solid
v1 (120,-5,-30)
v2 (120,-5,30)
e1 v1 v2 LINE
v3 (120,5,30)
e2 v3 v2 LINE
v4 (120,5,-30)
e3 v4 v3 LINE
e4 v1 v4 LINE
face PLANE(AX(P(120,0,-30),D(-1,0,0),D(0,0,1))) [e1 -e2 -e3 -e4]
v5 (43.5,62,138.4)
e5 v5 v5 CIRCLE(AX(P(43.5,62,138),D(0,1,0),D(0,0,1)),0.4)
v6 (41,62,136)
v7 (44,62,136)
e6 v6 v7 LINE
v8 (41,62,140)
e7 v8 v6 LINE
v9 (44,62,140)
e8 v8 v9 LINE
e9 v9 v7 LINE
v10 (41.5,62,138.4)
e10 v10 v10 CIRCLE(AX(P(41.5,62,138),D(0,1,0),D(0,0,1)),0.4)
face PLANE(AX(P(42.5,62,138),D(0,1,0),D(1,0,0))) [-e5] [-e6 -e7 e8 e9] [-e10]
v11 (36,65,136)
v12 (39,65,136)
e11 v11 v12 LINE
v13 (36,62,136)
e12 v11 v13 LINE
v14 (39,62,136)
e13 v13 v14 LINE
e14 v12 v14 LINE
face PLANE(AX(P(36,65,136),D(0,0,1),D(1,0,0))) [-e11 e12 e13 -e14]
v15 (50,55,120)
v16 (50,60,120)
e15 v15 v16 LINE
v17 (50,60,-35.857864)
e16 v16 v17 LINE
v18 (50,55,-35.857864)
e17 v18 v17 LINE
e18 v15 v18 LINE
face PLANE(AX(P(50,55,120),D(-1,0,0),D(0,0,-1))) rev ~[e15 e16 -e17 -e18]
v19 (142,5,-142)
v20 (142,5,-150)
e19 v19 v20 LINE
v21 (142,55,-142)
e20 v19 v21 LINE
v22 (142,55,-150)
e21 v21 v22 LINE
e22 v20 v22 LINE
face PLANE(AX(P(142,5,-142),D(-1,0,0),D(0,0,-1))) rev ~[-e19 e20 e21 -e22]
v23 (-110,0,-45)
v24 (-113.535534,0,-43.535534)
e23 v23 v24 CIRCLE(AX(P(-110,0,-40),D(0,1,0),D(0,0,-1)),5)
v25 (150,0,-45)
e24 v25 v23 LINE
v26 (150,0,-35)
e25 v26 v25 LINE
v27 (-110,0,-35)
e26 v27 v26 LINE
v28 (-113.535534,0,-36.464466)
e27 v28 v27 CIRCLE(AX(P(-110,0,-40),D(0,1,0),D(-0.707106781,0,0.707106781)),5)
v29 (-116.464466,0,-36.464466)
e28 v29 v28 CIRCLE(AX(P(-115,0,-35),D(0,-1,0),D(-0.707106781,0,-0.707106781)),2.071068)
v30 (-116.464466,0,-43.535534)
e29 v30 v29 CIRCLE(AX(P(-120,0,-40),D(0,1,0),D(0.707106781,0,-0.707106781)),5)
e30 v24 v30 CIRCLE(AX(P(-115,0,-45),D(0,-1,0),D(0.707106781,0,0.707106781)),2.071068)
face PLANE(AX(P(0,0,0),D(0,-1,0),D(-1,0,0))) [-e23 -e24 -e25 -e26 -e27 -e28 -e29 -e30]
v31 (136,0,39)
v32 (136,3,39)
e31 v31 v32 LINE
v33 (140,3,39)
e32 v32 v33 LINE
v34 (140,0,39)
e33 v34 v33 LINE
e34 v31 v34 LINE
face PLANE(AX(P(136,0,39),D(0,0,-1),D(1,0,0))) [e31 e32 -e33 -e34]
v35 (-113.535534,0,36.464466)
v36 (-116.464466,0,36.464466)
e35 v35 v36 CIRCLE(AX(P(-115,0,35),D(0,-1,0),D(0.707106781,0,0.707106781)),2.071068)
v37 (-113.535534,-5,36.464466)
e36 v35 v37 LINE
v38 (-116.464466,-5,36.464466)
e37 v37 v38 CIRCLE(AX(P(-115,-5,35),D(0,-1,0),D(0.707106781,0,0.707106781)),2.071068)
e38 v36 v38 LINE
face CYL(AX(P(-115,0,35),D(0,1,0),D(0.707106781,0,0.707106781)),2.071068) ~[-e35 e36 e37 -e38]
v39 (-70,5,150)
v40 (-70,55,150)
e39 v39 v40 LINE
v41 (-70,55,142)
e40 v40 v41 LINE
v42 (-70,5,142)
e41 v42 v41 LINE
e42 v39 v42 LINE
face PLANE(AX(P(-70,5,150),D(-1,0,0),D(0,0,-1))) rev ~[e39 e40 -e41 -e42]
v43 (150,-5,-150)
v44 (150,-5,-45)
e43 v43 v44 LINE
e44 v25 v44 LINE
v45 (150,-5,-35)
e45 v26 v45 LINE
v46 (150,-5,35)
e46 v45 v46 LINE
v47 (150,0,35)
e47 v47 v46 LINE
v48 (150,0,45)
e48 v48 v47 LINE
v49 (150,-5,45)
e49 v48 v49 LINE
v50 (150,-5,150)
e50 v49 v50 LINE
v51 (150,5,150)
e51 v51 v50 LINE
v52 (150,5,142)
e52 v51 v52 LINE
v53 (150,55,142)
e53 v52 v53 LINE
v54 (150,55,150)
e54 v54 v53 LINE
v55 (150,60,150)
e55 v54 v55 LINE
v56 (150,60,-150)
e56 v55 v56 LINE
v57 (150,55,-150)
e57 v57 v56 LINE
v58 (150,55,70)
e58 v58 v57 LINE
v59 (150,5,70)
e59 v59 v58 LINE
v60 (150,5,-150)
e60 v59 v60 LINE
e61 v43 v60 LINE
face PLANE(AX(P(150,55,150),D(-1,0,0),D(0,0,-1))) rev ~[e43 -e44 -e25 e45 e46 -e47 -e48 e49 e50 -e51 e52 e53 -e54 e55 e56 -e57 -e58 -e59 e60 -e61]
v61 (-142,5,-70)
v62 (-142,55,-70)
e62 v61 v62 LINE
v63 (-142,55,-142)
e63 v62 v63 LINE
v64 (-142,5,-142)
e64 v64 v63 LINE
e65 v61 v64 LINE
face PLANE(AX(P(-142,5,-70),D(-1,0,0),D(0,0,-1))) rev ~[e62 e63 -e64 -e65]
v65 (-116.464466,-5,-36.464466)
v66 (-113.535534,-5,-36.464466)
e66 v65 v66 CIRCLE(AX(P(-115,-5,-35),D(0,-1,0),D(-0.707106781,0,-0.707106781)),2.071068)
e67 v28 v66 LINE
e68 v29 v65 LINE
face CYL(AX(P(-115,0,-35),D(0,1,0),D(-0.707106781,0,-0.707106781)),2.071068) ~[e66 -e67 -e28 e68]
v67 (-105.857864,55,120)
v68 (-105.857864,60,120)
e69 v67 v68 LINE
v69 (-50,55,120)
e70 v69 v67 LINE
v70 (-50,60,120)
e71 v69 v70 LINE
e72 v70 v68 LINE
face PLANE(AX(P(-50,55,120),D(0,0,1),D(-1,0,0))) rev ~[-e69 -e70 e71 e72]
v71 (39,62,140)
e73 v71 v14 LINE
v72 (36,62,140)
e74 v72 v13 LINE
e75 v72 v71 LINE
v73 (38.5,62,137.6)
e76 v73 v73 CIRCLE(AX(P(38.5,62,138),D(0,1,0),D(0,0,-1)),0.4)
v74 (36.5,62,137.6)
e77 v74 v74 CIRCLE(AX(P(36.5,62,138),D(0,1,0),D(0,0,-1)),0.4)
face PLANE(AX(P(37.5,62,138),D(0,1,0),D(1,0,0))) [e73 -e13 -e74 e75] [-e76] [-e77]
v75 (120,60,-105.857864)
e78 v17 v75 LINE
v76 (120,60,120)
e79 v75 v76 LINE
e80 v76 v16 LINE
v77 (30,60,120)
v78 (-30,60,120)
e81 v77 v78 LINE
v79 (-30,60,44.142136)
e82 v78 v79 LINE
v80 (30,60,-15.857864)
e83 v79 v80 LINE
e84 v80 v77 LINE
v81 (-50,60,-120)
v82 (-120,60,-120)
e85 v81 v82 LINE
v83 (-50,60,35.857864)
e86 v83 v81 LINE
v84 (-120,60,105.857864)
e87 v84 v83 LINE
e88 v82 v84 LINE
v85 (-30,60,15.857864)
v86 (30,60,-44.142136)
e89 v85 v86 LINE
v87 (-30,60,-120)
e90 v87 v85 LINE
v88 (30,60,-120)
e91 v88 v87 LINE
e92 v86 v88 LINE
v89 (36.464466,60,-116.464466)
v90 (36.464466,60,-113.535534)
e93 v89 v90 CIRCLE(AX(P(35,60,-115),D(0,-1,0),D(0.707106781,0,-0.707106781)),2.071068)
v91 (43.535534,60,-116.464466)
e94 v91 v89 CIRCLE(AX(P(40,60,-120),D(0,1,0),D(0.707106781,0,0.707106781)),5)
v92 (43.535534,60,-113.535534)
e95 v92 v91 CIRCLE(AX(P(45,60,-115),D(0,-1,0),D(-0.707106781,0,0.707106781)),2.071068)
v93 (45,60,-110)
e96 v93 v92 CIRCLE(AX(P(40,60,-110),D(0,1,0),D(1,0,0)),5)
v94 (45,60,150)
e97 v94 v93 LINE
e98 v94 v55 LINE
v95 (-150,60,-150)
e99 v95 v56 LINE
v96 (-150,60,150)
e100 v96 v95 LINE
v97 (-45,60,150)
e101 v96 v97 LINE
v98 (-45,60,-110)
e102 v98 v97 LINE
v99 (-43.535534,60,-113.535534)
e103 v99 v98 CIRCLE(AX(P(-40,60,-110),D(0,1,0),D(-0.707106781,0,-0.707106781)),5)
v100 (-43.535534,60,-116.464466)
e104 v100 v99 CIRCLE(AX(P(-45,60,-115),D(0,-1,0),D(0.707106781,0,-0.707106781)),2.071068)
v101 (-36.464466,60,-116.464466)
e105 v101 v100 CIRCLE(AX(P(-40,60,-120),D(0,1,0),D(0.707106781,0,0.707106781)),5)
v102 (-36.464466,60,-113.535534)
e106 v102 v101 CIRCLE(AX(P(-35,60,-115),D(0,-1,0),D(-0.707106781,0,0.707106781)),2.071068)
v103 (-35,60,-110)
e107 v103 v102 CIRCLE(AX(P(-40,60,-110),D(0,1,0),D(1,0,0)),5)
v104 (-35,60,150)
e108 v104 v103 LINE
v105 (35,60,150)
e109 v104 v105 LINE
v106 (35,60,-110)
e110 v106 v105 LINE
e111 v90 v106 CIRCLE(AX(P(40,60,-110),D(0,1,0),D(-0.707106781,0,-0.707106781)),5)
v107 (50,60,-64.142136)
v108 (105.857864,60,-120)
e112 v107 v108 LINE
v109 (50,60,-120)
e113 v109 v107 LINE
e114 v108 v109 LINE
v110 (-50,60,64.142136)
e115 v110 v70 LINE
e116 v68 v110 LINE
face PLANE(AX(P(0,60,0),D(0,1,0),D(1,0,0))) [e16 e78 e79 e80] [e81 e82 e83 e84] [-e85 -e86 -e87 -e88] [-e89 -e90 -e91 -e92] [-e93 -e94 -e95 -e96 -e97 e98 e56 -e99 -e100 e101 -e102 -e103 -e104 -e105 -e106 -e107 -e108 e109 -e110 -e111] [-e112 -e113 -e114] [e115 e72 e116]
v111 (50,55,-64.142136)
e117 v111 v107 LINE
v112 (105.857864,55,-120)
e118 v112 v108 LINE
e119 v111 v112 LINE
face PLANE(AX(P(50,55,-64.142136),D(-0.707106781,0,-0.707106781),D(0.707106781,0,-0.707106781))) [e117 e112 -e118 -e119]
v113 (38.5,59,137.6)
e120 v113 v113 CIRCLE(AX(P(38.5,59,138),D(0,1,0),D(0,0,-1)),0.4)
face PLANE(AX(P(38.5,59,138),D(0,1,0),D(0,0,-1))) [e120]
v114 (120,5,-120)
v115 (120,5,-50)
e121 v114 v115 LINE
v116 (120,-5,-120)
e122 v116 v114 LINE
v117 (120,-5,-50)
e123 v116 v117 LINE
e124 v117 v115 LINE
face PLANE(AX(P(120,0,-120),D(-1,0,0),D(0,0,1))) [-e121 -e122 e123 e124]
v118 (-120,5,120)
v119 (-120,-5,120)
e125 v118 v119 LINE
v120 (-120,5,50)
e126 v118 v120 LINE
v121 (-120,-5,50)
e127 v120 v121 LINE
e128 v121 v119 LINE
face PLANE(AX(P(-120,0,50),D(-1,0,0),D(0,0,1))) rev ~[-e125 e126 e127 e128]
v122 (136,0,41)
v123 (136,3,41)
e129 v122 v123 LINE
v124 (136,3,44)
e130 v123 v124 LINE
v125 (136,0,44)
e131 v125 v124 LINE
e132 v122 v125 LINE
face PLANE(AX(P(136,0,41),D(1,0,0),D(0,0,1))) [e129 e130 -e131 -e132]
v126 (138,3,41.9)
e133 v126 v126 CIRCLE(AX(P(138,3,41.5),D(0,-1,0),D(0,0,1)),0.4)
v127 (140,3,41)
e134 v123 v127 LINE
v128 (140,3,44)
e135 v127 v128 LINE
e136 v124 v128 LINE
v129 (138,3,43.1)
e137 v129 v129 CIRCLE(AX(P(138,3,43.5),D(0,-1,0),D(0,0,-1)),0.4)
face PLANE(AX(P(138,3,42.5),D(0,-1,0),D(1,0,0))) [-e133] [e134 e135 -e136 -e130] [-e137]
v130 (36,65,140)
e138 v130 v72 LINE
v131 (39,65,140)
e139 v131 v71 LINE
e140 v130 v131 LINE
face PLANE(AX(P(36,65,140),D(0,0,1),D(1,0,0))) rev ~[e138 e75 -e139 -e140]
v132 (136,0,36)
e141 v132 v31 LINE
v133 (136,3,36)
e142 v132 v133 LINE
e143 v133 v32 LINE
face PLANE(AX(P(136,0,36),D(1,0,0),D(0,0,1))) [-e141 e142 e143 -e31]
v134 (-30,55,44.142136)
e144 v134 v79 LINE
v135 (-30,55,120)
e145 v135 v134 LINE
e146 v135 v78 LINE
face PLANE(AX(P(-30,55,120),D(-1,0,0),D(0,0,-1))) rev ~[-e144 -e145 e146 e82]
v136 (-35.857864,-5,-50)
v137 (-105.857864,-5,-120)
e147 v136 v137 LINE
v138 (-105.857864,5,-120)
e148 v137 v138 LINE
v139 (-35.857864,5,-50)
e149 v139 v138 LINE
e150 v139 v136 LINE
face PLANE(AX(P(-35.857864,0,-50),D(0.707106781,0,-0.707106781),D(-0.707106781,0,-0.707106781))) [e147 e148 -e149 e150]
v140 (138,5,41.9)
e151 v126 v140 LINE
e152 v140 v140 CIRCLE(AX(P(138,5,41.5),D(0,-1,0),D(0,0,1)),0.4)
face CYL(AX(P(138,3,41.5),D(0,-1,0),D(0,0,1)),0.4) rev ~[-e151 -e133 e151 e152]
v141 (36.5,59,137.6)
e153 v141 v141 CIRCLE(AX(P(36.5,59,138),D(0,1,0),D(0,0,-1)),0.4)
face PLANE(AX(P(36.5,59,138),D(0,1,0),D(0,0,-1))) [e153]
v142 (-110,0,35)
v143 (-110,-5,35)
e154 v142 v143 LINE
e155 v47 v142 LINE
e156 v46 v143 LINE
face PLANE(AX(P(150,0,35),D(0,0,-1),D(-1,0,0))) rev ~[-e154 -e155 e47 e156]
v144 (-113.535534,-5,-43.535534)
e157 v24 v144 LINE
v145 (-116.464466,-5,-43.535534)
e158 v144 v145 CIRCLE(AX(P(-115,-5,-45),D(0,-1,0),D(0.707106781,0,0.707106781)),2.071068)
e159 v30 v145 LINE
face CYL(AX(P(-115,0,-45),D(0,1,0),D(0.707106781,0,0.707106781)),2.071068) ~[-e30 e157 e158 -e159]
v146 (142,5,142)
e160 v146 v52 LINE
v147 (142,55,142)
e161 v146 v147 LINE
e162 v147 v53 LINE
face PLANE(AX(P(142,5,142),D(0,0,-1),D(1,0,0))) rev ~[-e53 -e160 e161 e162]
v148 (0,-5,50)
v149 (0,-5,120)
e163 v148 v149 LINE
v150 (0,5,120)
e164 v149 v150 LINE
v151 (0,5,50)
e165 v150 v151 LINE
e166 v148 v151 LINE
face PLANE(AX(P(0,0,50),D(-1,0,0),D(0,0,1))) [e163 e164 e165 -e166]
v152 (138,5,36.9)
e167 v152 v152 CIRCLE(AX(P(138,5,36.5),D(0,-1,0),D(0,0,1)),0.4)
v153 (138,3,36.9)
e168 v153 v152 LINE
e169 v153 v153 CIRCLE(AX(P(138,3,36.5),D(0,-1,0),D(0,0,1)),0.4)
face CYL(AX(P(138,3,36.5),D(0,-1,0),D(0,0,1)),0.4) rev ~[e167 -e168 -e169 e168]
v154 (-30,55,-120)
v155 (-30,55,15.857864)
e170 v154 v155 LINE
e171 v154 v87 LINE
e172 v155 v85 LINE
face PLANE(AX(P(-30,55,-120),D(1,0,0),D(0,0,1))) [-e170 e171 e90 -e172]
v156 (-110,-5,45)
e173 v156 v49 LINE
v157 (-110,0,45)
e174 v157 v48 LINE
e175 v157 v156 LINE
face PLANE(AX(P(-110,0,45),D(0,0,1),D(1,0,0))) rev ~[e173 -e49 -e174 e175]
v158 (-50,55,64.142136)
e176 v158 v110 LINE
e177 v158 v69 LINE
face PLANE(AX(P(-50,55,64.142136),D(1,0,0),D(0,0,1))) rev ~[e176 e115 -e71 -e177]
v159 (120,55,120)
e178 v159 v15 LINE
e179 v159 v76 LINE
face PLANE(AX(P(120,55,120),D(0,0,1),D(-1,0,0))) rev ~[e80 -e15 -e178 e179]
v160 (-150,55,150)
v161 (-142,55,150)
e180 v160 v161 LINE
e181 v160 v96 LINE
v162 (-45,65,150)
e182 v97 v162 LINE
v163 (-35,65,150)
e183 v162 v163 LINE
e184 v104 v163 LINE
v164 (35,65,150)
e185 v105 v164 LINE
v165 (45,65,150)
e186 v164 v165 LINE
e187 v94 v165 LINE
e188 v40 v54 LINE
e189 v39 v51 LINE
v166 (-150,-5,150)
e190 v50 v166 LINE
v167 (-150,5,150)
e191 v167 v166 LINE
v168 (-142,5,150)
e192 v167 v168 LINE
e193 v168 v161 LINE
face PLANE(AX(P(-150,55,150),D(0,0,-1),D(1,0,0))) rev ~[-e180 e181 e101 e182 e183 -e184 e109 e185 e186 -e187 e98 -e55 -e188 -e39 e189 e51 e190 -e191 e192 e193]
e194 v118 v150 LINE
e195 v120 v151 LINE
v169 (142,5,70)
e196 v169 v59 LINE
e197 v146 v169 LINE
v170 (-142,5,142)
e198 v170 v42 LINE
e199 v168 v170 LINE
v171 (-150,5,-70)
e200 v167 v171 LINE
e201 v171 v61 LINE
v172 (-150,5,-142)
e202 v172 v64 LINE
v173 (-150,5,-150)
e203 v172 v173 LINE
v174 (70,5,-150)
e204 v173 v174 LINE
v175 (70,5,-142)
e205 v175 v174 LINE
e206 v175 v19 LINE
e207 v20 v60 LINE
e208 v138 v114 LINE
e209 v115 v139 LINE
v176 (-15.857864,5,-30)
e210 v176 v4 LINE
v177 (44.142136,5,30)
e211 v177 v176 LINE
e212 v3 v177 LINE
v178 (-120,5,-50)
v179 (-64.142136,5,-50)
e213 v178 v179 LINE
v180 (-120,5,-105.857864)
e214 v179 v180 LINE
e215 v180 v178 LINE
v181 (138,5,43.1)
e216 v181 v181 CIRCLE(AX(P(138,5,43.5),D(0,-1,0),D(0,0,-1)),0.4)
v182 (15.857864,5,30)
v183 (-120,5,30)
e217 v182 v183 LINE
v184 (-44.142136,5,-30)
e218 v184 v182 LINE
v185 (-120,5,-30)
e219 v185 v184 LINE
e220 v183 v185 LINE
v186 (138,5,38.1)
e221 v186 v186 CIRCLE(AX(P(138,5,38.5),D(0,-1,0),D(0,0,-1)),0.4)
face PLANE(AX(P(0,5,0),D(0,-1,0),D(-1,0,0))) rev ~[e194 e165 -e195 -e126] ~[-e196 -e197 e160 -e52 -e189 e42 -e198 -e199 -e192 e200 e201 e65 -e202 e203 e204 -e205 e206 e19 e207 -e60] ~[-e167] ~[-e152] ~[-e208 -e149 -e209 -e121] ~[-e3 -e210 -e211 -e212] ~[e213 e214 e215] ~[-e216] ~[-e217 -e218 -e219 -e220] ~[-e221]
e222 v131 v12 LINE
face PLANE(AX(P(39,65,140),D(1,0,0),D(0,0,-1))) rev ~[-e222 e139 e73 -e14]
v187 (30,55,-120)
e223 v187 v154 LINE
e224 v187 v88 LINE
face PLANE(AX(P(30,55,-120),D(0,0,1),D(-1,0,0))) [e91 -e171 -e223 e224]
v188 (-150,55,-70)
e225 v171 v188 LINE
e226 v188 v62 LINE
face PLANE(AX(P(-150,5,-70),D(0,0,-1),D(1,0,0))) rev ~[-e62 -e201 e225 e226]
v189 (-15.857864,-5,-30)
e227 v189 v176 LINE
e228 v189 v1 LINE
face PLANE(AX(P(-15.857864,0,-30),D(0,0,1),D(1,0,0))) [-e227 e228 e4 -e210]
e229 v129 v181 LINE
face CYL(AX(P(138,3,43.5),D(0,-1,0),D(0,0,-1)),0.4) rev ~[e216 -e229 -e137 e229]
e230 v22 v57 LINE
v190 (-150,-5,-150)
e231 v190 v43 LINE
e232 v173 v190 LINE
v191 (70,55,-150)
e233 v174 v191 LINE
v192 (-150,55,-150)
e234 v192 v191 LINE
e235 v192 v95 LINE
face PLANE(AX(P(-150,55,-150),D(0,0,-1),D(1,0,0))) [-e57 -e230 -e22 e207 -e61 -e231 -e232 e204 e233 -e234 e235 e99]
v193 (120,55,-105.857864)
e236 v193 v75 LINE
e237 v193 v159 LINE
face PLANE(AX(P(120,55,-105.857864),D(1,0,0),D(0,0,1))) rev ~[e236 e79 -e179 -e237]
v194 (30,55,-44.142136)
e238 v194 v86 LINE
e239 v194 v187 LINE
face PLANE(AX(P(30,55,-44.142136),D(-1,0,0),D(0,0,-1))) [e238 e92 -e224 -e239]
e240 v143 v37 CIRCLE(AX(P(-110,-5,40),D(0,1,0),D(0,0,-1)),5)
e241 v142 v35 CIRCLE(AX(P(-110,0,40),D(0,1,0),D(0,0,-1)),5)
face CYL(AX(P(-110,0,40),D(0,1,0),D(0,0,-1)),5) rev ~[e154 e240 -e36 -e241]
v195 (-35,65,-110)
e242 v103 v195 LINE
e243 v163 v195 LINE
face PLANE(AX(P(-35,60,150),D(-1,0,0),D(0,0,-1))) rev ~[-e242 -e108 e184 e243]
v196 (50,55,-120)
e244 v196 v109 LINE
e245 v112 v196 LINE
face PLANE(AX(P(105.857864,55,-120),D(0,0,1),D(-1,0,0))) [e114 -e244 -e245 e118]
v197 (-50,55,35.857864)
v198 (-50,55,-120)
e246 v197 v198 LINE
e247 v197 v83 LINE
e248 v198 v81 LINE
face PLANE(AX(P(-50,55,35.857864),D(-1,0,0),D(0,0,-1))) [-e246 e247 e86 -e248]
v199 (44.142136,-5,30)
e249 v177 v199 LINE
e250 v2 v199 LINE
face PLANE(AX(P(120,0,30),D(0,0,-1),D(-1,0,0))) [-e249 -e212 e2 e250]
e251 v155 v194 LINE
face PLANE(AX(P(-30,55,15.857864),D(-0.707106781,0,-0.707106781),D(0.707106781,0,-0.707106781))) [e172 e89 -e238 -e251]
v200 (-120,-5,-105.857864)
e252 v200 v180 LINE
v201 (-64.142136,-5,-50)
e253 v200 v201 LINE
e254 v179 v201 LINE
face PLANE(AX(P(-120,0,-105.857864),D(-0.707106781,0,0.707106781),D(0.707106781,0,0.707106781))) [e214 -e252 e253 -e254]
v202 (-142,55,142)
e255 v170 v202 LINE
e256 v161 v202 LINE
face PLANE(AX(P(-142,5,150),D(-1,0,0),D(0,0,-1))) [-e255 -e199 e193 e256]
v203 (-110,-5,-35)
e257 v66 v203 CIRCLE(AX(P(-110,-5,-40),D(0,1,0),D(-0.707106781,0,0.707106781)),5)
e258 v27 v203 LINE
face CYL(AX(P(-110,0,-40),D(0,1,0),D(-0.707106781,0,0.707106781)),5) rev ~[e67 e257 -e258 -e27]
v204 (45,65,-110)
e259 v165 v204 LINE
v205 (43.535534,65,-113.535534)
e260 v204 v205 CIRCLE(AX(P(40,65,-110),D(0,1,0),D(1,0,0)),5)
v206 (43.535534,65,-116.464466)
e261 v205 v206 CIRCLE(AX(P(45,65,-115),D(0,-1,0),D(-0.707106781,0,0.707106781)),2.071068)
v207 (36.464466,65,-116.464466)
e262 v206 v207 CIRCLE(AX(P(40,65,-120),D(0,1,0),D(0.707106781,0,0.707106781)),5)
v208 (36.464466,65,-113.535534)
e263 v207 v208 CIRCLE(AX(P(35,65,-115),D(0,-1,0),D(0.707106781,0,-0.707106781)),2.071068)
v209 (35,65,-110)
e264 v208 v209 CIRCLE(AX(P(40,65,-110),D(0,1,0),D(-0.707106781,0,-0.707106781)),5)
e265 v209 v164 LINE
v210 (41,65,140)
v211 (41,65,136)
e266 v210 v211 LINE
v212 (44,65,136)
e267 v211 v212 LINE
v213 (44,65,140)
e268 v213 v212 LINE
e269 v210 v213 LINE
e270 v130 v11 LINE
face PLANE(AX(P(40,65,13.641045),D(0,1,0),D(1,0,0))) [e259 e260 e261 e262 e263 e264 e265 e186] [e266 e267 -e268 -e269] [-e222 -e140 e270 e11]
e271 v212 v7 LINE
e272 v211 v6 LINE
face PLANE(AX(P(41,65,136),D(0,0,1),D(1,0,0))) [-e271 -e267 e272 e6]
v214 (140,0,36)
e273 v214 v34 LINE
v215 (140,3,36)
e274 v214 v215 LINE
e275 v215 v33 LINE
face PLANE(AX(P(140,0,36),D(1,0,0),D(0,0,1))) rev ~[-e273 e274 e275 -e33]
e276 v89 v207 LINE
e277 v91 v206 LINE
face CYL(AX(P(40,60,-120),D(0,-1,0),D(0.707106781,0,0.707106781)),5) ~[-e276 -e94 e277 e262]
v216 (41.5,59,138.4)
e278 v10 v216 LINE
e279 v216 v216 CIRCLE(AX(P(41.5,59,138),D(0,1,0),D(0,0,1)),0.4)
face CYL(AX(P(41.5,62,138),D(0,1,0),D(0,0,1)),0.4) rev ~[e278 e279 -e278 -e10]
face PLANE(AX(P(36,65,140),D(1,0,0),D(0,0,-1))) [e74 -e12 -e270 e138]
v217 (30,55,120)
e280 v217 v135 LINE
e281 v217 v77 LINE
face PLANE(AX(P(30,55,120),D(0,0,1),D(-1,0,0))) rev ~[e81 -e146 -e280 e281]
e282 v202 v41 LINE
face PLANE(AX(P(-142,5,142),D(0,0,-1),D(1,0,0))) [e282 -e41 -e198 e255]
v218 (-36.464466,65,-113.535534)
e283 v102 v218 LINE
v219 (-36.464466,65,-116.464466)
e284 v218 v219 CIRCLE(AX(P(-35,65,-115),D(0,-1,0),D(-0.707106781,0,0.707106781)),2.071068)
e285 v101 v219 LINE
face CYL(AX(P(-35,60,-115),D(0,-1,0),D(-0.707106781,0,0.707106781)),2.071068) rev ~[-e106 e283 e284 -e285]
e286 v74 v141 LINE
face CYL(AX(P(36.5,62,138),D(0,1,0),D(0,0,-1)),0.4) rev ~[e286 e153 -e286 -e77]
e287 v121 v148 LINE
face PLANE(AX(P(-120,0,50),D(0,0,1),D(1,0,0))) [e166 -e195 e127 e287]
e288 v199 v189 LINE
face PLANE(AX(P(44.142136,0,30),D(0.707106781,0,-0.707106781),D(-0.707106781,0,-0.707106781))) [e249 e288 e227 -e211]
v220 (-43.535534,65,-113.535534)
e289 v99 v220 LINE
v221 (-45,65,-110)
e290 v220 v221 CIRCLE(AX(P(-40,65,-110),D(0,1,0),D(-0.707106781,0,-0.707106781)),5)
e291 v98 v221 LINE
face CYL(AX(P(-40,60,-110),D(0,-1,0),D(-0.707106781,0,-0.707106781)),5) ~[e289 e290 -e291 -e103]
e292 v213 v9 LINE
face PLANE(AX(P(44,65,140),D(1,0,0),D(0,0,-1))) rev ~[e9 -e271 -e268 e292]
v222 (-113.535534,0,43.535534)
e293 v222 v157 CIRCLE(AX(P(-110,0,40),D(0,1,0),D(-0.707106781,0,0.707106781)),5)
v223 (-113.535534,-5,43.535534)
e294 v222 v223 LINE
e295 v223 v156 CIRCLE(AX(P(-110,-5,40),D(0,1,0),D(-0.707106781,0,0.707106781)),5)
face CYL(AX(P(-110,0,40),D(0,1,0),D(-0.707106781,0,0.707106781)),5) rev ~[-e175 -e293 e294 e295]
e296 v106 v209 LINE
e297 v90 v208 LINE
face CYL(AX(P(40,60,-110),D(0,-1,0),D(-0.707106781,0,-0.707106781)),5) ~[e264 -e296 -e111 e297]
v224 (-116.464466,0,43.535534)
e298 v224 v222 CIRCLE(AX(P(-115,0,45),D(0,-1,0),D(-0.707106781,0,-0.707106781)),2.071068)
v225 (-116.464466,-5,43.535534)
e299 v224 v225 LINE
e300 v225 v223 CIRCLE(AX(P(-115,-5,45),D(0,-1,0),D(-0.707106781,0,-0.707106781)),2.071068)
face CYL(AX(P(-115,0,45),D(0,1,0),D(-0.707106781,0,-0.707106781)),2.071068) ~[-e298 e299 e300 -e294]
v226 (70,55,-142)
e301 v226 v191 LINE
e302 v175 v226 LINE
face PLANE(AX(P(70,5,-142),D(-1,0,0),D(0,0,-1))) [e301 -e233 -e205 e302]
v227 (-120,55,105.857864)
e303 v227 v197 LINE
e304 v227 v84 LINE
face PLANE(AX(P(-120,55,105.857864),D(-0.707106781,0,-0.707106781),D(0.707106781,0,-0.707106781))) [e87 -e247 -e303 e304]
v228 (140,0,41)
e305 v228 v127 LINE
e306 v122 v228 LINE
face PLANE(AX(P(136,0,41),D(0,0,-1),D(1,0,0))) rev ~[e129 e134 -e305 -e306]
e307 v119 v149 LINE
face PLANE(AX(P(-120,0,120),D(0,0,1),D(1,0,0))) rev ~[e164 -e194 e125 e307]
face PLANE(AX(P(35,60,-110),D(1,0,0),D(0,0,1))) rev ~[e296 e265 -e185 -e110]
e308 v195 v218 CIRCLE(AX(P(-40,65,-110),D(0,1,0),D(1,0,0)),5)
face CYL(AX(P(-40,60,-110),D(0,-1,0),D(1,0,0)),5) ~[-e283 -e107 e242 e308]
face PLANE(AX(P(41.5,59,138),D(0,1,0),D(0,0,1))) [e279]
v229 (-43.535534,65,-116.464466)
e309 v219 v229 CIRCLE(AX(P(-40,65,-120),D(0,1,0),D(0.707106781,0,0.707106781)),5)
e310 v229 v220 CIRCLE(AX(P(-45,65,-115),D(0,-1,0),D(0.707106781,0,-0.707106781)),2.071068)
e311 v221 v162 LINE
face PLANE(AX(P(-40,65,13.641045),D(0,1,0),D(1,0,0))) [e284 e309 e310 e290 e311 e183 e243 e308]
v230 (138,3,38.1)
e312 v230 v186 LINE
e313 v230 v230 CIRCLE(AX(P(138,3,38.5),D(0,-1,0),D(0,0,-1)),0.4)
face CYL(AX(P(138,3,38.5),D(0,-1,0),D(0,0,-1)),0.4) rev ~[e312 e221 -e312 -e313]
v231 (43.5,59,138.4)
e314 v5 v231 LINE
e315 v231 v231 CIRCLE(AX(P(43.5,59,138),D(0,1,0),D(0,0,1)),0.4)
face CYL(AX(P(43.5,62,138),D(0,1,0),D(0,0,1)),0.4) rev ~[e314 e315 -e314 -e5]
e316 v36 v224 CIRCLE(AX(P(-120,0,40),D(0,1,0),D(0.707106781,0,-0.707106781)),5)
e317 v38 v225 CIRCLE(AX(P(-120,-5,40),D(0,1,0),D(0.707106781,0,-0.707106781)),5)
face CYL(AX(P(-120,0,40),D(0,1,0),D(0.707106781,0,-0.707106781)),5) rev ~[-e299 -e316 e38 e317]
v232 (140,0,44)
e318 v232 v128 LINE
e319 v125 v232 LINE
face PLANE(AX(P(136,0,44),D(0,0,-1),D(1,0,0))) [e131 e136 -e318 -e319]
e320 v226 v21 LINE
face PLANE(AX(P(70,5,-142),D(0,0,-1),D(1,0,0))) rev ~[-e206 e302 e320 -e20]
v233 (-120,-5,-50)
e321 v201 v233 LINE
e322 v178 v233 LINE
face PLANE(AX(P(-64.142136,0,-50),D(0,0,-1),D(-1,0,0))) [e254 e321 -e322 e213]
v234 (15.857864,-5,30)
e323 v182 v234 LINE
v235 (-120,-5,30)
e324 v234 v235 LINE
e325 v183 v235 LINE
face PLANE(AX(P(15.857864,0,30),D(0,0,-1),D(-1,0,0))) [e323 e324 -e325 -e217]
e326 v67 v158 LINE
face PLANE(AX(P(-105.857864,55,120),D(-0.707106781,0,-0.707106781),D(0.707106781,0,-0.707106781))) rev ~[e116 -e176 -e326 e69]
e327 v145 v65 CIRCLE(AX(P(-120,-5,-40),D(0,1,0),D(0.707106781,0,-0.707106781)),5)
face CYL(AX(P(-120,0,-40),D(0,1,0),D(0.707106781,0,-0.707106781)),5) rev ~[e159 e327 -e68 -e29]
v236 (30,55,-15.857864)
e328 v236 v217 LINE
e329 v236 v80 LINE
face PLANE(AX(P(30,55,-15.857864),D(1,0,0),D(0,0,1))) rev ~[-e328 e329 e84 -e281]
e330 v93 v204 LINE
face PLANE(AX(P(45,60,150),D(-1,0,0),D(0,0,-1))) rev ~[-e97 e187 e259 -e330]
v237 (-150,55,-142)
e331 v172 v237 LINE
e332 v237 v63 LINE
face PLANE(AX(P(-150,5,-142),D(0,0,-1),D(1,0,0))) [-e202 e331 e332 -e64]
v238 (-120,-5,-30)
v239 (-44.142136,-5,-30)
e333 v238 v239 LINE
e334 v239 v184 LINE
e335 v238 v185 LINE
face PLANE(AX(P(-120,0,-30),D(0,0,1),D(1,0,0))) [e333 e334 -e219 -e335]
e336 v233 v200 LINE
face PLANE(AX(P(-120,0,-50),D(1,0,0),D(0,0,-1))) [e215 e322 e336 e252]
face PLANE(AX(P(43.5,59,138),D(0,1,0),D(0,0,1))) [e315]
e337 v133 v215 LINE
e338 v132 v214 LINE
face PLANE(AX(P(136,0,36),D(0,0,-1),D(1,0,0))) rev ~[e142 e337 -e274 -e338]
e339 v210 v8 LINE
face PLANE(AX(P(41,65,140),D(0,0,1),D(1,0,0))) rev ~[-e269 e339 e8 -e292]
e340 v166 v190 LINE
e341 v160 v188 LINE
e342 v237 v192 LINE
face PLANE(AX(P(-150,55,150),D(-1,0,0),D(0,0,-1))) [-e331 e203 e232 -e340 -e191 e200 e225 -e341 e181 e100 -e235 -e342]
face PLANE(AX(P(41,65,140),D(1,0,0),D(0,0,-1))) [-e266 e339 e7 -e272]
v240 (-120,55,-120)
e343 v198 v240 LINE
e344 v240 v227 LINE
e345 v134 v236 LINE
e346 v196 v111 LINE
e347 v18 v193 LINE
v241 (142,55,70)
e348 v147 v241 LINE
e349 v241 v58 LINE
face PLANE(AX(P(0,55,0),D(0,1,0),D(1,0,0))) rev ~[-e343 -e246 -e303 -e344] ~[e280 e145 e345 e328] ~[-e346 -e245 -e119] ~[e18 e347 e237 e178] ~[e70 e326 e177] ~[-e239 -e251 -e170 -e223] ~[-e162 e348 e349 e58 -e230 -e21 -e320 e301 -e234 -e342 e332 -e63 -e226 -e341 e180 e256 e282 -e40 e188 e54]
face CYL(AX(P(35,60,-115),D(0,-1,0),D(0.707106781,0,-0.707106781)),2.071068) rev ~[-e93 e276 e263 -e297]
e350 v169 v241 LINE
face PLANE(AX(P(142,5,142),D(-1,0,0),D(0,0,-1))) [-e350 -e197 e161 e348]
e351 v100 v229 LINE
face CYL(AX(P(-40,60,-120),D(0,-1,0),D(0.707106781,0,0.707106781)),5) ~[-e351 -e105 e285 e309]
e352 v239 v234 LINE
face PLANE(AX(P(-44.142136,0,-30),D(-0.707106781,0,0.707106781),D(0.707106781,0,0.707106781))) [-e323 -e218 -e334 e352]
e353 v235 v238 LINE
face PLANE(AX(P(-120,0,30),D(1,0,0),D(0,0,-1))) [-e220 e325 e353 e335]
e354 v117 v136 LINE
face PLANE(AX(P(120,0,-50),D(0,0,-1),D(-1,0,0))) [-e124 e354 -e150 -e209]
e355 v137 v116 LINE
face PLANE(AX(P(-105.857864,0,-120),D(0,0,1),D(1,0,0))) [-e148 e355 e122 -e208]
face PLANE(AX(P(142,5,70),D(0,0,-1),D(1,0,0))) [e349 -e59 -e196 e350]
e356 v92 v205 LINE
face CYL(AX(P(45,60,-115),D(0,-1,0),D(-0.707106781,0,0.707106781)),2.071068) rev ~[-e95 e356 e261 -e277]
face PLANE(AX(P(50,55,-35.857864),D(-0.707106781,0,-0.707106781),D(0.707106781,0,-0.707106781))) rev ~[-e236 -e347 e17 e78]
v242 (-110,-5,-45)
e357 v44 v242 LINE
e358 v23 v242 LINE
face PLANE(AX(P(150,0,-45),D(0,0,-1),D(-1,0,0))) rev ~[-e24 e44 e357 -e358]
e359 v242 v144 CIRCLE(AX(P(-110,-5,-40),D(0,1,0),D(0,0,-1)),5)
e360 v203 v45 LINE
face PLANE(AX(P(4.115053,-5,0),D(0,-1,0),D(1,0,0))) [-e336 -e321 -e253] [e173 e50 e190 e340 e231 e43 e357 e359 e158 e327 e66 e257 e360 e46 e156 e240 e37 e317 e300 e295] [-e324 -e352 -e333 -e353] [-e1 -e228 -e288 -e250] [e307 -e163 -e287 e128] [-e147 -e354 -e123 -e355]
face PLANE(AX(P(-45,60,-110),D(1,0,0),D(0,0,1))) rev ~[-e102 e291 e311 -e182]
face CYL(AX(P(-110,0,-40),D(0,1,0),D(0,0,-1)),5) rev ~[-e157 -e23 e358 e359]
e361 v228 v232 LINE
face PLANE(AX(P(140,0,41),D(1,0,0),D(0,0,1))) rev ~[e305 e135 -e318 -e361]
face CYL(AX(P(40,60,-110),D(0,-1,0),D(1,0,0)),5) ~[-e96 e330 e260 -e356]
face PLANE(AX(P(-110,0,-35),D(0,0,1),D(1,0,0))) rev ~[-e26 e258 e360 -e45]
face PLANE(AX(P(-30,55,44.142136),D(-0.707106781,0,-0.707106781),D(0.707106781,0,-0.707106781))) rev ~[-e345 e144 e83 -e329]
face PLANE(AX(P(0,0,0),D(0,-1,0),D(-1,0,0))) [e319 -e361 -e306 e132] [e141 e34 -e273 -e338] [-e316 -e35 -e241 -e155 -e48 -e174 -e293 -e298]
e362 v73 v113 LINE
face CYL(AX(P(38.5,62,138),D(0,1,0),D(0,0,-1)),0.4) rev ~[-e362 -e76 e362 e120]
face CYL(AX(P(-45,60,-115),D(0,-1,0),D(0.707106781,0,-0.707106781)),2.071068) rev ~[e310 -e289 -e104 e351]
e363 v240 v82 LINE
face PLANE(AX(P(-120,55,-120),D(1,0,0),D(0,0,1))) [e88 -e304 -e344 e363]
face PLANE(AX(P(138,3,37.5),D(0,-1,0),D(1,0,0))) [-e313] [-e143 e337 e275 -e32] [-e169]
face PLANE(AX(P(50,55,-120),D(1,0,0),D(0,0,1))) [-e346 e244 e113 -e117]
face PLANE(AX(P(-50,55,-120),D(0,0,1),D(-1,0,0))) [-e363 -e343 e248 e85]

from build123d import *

# Parameters (mm, degrees)
SKETCH_1_W          = 120
SKETCH_1_H          = 70
EXTRUDE_1_DEPTH     = 5
SKETCH_2_W          = 120
SKETCH_2_H          = 70
EXTRUDE_2_DEPTH     = 5
SKETCH_3_W          = 8
SKETCH_3_H          = 72
SKETCH_3_W_2        = 72
SKETCH_3_H_2        = 8
EXTRUDE_3_DEPTH     = 50
SKETCH_4_W          = 300
SKETCH_4_H          = 300
EXTRUDE_4_DEPTH     = 5
EXTRUDE_5_DEPTH     = 5
SKETCH_6_W          = 4
SKETCH_6_H          = 3
CUT_EXTRUDE_1_DEPTH = 3
SKETCH_7_R          = 0.4
CUT_EXTRUDE_2_DEPTH = 3
SKETCH_8_W          = 3
SKETCH_8_H          = 4
CUT_EXTRUDE_3_DEPTH = 3
SKETCH_9_R          = 0.4
CUT_EXTRUDE_4_DEPTH = 3


with BuildPart() as part:
    # 草图1 → 凸台-拉伸1 (new body)
    with BuildSketch(Plane(origin=(0, 0, 0), x_dir=(1, 0, 0), z_dir=(0, 1, 0))):
        Polygon((-150, 150), (150, 150), (150, -30), (150, -150), (0, -150), (-150, -150), align=None)
        Polygon((-15.857864376, 30), (120, 30), (120, -30), (44.142135624, -30), align=None, mode=Mode.SUBTRACT)
        Polygon((-105.857864376, 120), (120, 120), (120, 50), (-35.857864376, 50), align=None, mode=Mode.SUBTRACT)
        Polygon((-120, 105.857864376), (-120, 50), (-64.142135624, 50), align=None, mode=Mode.SUBTRACT)
        with Locations((-60, -85)):
            Rectangle(SKETCH_1_W, SKETCH_1_H, mode=Mode.SUBTRACT)
        Polygon((-120, 30), (-44.142135624, 30), (15.857864376, -30), (-120, -30), align=None, mode=Mode.SUBTRACT)
    extrude(amount=EXTRUDE_1_DEPTH)

    # 草图2 → 凸台-拉伸2 (add)
    with BuildSketch(Plane.XZ):
        with BuildLine():
            Line((150, 45), (150, 150))
            Line((150, 150), (-150, 150))
            Line((-150, 150), (-150, -150))
            Line((-150, -150), (150, -150))
            Line((150, -150), (150, -45))
            Line((150, -45), (-110, -45))
            ThreePointArc((-110, -45), (-111.913417162, -44.619397663), (-113.535533906, -43.535533906))
            ThreePointArc((-113.535533906, -43.535533906), (-115, -42.928932188), (-116.464466094, -43.535533906))
            ThreePointArc((-116.464466094, -43.535533906), (-125, -40), (-116.464466094, -36.464466094))
            ThreePointArc((-116.464466094, -36.464466094), (-115, -37.071067812), (-113.535533906, -36.464466094))
            ThreePointArc((-113.535533906, -36.464466094), (-111.913417162, -35.380602337), (-110, -35))
            Line((-110, -35), (150, -35))
            Line((150, -35), (150, 35))
            Line((150, 35), (-110, 35))
            ThreePointArc((-110, 35), (-111.913417162, 35.380602337), (-113.535533906, 36.464466094))
            ThreePointArc((-113.535533906, 36.464466094), (-115, 37.071067812), (-116.464466094, 36.464466094))
            ThreePointArc((-116.464466094, 36.464466094), (-125, 40), (-116.464466094, 43.535533906))
            ThreePointArc((-116.464466094, 43.535533906), (-115, 42.928932188), (-113.535533906, 43.535533906))
            ThreePointArc((-113.535533906, 43.535533906), (-111.913417162, 44.619397663), (-110, 45))
            Line((-110, 45), (150, 45))
        make_face()
        with Locations((-60, 85)):
            Rectangle(SKETCH_2_W, SKETCH_2_H, mode=Mode.SUBTRACT)
        Polygon((-120, 30), (-120, -30), (-44.142135624, -30), (15.857864376, 30), align=None, mode=Mode.SUBTRACT)
        Polygon((44.142135624, 30), (-15.857864376, -30), (120, -30), (120, 30), align=None, mode=Mode.SUBTRACT)
        Polygon((-120, -50), (-120, -105.857864376), (-64.142135624, -50), align=None, mode=Mode.SUBTRACT)
        Polygon((-35.857864376, -50), (-105.857864376, -120), (120, -120), (120, -50), align=None, mode=Mode.SUBTRACT)
    extrude(amount=EXTRUDE_2_DEPTH)

    # 草图3 → 凸台-拉伸3 (add)
    with BuildSketch(Plane(origin=(0, 5, 0), x_dir=(1, 0, 0), z_dir=(0, 1, 0))):
        with Locations((146, -106)):
            Rectangle(SKETCH_3_W, SKETCH_3_H)
        with Locations((-106, -146)):
            Rectangle(SKETCH_3_W_2, SKETCH_3_H_2)
        with Locations((-146, 106)):
            Rectangle(SKETCH_3_W, SKETCH_3_H)
        with Locations((106, 146)):
            Rectangle(SKETCH_3_W_2, SKETCH_3_H_2)
    extrude(amount=EXTRUDE_3_DEPTH)

    # 草图4 → 凸台-拉伸4 (add)
    with BuildSketch(Plane(origin=(0, 55, 0), x_dir=(1, 0, 0), z_dir=(0, 1, 0))):
        Rectangle(SKETCH_4_W, SKETCH_4_H)
        Polygon((30, 120), (-30, 120), (-30, -15.857864376), (30, 44.142135624), align=None, mode=Mode.SUBTRACT)
        Polygon((105.857864376, 120), (50, 120), (50, 64.142135624), align=None, mode=Mode.SUBTRACT)
        Polygon((120, 105.857864376), (120, -120), (50, -120), (50, 35.857864376), align=None, mode=Mode.SUBTRACT)
        Polygon((-120, 120), (-120, -105.857864376), (-50, -35.857864376), (-50, 120), align=None, mode=Mode.SUBTRACT)
        Polygon((-50, -120), (-105.857864376, -120), (-50, -64.142135624), align=None, mode=Mode.SUBTRACT)
        Polygon((30, -120), (-30, -120), (-30, -44.142135624), (30, 15.857864376), align=None, mode=Mode.SUBTRACT)
    extrude(amount=EXTRUDE_4_DEPTH)

    # 草图5 → 凸台-拉伸5 (add)
    with BuildSketch(Plane(origin=(0, 60, 0), x_dir=(1, 0, 0), z_dir=(0, 1, 0))):
        with BuildLine():
            Line((35, 110), (35, -150))
            Line((35, -150), (45, -150))
            Line((45, -150), (45, 110))
            ThreePointArc((45, 110), (44.619397663, 111.913417162), (43.535533906, 113.535533906))
            ThreePointArc((43.535533906, 113.535533906), (42.928932188, 115), (43.535533906, 116.464466094))
            ThreePointArc((43.535533906, 116.464466094), (40, 125), (36.464466094, 116.464466094))
            ThreePointArc((36.464466094, 116.464466094), (37.071067812, 115), (36.464466094, 113.535533906))
            ThreePointArc((36.464466094, 113.535533906), (35.380602337, 111.913417162), (35, 110))
        make_face()
        with BuildLine():
            Line((-45, -150), (-35, -150))
            Line((-35, -150), (-35, 110))
            ThreePointArc((-35, 110), (-35.380602337, 111.913417162), (-36.464466094, 113.535533906))
            ThreePointArc((-36.464466094, 113.535533906), (-37.071067812, 115), (-36.464466094, 116.464466094))
            ThreePointArc((-36.464466094, 116.464466094), (-40, 125), (-43.535533906, 116.464466094))
            ThreePointArc((-43.535533906, 116.464466094), (-42.928932188, 115), (-43.535533906, 113.535533906))
            ThreePointArc((-43.535533906, 113.535533906), (-44.619397663, 111.913417162), (-45, 110))
            Line((-45, 110), (-45, -150))
        make_face()
    extrude(amount=EXTRUDE_5_DEPTH)

    # 草图6 → 切除-拉伸1 (cut)
    with BuildSketch(Plane.XZ):
        with Locations((138, 42.5)):
            Rectangle(SKETCH_6_W, SKETCH_6_H)
        with Locations((138, 37.5)):
            Rectangle(SKETCH_6_W, SKETCH_6_H)
    extrude(amount=-CUT_EXTRUDE_1_DEPTH, mode=Mode.SUBTRACT)

    # 草图7 → 切除-拉伸2 (cut)
    with BuildSketch(Plane.XZ.offset(-3)):
        with Locations(Location((138, 43.5, 0), (0, 0, 270))):
            Circle(SKETCH_7_R)
        with Locations(Location((138, 41.5, 0), (0, 0, 90))):
            Circle(SKETCH_7_R)
        with Locations(Location((138, 36.5, 0), (0, 0, 90))):
            Circle(SKETCH_7_R)
        with Locations(Location((138, 38.5, 0), (0, 0, 270))):
            Circle(SKETCH_7_R)
    extrude(amount=-CUT_EXTRUDE_2_DEPTH, mode=Mode.SUBTRACT)

    # 草图8 → 切除-拉伸3 (cut)
    with BuildSketch(Plane(origin=(0, 65, 0), x_dir=(1, 0, 0), z_dir=(0, 1, 0))):
        with Locations((37.5, -138)):
            Rectangle(SKETCH_8_W, SKETCH_8_H)
        with Locations((42.5, -138)):
            Rectangle(SKETCH_8_W, SKETCH_8_H)
    extrude(amount=-CUT_EXTRUDE_3_DEPTH, mode=Mode.SUBTRACT)

    # 草图9 → 切除-拉伸4 (cut)
    with BuildSketch(Plane(origin=(0, 62, 0), x_dir=(1, 0, 0), z_dir=(0, 1, 0))):
        with Locations(Location((43.5, -138, 0), (0, 0, 270))):
            Circle(SKETCH_9_R)
        with Locations(Location((41.5, -138, 0), (0, 0, 270))):
            Circle(SKETCH_9_R)
        with Locations(Location((36.5, -138, 0), (0, 0, 90))):
            Circle(SKETCH_9_R)
        with Locations(Location((38.5, -138, 0), (0, 0, 90))):
            Circle(SKETCH_9_R)
    extrude(amount=-CUT_EXTRUDE_4_DEPTH, mode=Mode.SUBTRACT)


solid = part.part
